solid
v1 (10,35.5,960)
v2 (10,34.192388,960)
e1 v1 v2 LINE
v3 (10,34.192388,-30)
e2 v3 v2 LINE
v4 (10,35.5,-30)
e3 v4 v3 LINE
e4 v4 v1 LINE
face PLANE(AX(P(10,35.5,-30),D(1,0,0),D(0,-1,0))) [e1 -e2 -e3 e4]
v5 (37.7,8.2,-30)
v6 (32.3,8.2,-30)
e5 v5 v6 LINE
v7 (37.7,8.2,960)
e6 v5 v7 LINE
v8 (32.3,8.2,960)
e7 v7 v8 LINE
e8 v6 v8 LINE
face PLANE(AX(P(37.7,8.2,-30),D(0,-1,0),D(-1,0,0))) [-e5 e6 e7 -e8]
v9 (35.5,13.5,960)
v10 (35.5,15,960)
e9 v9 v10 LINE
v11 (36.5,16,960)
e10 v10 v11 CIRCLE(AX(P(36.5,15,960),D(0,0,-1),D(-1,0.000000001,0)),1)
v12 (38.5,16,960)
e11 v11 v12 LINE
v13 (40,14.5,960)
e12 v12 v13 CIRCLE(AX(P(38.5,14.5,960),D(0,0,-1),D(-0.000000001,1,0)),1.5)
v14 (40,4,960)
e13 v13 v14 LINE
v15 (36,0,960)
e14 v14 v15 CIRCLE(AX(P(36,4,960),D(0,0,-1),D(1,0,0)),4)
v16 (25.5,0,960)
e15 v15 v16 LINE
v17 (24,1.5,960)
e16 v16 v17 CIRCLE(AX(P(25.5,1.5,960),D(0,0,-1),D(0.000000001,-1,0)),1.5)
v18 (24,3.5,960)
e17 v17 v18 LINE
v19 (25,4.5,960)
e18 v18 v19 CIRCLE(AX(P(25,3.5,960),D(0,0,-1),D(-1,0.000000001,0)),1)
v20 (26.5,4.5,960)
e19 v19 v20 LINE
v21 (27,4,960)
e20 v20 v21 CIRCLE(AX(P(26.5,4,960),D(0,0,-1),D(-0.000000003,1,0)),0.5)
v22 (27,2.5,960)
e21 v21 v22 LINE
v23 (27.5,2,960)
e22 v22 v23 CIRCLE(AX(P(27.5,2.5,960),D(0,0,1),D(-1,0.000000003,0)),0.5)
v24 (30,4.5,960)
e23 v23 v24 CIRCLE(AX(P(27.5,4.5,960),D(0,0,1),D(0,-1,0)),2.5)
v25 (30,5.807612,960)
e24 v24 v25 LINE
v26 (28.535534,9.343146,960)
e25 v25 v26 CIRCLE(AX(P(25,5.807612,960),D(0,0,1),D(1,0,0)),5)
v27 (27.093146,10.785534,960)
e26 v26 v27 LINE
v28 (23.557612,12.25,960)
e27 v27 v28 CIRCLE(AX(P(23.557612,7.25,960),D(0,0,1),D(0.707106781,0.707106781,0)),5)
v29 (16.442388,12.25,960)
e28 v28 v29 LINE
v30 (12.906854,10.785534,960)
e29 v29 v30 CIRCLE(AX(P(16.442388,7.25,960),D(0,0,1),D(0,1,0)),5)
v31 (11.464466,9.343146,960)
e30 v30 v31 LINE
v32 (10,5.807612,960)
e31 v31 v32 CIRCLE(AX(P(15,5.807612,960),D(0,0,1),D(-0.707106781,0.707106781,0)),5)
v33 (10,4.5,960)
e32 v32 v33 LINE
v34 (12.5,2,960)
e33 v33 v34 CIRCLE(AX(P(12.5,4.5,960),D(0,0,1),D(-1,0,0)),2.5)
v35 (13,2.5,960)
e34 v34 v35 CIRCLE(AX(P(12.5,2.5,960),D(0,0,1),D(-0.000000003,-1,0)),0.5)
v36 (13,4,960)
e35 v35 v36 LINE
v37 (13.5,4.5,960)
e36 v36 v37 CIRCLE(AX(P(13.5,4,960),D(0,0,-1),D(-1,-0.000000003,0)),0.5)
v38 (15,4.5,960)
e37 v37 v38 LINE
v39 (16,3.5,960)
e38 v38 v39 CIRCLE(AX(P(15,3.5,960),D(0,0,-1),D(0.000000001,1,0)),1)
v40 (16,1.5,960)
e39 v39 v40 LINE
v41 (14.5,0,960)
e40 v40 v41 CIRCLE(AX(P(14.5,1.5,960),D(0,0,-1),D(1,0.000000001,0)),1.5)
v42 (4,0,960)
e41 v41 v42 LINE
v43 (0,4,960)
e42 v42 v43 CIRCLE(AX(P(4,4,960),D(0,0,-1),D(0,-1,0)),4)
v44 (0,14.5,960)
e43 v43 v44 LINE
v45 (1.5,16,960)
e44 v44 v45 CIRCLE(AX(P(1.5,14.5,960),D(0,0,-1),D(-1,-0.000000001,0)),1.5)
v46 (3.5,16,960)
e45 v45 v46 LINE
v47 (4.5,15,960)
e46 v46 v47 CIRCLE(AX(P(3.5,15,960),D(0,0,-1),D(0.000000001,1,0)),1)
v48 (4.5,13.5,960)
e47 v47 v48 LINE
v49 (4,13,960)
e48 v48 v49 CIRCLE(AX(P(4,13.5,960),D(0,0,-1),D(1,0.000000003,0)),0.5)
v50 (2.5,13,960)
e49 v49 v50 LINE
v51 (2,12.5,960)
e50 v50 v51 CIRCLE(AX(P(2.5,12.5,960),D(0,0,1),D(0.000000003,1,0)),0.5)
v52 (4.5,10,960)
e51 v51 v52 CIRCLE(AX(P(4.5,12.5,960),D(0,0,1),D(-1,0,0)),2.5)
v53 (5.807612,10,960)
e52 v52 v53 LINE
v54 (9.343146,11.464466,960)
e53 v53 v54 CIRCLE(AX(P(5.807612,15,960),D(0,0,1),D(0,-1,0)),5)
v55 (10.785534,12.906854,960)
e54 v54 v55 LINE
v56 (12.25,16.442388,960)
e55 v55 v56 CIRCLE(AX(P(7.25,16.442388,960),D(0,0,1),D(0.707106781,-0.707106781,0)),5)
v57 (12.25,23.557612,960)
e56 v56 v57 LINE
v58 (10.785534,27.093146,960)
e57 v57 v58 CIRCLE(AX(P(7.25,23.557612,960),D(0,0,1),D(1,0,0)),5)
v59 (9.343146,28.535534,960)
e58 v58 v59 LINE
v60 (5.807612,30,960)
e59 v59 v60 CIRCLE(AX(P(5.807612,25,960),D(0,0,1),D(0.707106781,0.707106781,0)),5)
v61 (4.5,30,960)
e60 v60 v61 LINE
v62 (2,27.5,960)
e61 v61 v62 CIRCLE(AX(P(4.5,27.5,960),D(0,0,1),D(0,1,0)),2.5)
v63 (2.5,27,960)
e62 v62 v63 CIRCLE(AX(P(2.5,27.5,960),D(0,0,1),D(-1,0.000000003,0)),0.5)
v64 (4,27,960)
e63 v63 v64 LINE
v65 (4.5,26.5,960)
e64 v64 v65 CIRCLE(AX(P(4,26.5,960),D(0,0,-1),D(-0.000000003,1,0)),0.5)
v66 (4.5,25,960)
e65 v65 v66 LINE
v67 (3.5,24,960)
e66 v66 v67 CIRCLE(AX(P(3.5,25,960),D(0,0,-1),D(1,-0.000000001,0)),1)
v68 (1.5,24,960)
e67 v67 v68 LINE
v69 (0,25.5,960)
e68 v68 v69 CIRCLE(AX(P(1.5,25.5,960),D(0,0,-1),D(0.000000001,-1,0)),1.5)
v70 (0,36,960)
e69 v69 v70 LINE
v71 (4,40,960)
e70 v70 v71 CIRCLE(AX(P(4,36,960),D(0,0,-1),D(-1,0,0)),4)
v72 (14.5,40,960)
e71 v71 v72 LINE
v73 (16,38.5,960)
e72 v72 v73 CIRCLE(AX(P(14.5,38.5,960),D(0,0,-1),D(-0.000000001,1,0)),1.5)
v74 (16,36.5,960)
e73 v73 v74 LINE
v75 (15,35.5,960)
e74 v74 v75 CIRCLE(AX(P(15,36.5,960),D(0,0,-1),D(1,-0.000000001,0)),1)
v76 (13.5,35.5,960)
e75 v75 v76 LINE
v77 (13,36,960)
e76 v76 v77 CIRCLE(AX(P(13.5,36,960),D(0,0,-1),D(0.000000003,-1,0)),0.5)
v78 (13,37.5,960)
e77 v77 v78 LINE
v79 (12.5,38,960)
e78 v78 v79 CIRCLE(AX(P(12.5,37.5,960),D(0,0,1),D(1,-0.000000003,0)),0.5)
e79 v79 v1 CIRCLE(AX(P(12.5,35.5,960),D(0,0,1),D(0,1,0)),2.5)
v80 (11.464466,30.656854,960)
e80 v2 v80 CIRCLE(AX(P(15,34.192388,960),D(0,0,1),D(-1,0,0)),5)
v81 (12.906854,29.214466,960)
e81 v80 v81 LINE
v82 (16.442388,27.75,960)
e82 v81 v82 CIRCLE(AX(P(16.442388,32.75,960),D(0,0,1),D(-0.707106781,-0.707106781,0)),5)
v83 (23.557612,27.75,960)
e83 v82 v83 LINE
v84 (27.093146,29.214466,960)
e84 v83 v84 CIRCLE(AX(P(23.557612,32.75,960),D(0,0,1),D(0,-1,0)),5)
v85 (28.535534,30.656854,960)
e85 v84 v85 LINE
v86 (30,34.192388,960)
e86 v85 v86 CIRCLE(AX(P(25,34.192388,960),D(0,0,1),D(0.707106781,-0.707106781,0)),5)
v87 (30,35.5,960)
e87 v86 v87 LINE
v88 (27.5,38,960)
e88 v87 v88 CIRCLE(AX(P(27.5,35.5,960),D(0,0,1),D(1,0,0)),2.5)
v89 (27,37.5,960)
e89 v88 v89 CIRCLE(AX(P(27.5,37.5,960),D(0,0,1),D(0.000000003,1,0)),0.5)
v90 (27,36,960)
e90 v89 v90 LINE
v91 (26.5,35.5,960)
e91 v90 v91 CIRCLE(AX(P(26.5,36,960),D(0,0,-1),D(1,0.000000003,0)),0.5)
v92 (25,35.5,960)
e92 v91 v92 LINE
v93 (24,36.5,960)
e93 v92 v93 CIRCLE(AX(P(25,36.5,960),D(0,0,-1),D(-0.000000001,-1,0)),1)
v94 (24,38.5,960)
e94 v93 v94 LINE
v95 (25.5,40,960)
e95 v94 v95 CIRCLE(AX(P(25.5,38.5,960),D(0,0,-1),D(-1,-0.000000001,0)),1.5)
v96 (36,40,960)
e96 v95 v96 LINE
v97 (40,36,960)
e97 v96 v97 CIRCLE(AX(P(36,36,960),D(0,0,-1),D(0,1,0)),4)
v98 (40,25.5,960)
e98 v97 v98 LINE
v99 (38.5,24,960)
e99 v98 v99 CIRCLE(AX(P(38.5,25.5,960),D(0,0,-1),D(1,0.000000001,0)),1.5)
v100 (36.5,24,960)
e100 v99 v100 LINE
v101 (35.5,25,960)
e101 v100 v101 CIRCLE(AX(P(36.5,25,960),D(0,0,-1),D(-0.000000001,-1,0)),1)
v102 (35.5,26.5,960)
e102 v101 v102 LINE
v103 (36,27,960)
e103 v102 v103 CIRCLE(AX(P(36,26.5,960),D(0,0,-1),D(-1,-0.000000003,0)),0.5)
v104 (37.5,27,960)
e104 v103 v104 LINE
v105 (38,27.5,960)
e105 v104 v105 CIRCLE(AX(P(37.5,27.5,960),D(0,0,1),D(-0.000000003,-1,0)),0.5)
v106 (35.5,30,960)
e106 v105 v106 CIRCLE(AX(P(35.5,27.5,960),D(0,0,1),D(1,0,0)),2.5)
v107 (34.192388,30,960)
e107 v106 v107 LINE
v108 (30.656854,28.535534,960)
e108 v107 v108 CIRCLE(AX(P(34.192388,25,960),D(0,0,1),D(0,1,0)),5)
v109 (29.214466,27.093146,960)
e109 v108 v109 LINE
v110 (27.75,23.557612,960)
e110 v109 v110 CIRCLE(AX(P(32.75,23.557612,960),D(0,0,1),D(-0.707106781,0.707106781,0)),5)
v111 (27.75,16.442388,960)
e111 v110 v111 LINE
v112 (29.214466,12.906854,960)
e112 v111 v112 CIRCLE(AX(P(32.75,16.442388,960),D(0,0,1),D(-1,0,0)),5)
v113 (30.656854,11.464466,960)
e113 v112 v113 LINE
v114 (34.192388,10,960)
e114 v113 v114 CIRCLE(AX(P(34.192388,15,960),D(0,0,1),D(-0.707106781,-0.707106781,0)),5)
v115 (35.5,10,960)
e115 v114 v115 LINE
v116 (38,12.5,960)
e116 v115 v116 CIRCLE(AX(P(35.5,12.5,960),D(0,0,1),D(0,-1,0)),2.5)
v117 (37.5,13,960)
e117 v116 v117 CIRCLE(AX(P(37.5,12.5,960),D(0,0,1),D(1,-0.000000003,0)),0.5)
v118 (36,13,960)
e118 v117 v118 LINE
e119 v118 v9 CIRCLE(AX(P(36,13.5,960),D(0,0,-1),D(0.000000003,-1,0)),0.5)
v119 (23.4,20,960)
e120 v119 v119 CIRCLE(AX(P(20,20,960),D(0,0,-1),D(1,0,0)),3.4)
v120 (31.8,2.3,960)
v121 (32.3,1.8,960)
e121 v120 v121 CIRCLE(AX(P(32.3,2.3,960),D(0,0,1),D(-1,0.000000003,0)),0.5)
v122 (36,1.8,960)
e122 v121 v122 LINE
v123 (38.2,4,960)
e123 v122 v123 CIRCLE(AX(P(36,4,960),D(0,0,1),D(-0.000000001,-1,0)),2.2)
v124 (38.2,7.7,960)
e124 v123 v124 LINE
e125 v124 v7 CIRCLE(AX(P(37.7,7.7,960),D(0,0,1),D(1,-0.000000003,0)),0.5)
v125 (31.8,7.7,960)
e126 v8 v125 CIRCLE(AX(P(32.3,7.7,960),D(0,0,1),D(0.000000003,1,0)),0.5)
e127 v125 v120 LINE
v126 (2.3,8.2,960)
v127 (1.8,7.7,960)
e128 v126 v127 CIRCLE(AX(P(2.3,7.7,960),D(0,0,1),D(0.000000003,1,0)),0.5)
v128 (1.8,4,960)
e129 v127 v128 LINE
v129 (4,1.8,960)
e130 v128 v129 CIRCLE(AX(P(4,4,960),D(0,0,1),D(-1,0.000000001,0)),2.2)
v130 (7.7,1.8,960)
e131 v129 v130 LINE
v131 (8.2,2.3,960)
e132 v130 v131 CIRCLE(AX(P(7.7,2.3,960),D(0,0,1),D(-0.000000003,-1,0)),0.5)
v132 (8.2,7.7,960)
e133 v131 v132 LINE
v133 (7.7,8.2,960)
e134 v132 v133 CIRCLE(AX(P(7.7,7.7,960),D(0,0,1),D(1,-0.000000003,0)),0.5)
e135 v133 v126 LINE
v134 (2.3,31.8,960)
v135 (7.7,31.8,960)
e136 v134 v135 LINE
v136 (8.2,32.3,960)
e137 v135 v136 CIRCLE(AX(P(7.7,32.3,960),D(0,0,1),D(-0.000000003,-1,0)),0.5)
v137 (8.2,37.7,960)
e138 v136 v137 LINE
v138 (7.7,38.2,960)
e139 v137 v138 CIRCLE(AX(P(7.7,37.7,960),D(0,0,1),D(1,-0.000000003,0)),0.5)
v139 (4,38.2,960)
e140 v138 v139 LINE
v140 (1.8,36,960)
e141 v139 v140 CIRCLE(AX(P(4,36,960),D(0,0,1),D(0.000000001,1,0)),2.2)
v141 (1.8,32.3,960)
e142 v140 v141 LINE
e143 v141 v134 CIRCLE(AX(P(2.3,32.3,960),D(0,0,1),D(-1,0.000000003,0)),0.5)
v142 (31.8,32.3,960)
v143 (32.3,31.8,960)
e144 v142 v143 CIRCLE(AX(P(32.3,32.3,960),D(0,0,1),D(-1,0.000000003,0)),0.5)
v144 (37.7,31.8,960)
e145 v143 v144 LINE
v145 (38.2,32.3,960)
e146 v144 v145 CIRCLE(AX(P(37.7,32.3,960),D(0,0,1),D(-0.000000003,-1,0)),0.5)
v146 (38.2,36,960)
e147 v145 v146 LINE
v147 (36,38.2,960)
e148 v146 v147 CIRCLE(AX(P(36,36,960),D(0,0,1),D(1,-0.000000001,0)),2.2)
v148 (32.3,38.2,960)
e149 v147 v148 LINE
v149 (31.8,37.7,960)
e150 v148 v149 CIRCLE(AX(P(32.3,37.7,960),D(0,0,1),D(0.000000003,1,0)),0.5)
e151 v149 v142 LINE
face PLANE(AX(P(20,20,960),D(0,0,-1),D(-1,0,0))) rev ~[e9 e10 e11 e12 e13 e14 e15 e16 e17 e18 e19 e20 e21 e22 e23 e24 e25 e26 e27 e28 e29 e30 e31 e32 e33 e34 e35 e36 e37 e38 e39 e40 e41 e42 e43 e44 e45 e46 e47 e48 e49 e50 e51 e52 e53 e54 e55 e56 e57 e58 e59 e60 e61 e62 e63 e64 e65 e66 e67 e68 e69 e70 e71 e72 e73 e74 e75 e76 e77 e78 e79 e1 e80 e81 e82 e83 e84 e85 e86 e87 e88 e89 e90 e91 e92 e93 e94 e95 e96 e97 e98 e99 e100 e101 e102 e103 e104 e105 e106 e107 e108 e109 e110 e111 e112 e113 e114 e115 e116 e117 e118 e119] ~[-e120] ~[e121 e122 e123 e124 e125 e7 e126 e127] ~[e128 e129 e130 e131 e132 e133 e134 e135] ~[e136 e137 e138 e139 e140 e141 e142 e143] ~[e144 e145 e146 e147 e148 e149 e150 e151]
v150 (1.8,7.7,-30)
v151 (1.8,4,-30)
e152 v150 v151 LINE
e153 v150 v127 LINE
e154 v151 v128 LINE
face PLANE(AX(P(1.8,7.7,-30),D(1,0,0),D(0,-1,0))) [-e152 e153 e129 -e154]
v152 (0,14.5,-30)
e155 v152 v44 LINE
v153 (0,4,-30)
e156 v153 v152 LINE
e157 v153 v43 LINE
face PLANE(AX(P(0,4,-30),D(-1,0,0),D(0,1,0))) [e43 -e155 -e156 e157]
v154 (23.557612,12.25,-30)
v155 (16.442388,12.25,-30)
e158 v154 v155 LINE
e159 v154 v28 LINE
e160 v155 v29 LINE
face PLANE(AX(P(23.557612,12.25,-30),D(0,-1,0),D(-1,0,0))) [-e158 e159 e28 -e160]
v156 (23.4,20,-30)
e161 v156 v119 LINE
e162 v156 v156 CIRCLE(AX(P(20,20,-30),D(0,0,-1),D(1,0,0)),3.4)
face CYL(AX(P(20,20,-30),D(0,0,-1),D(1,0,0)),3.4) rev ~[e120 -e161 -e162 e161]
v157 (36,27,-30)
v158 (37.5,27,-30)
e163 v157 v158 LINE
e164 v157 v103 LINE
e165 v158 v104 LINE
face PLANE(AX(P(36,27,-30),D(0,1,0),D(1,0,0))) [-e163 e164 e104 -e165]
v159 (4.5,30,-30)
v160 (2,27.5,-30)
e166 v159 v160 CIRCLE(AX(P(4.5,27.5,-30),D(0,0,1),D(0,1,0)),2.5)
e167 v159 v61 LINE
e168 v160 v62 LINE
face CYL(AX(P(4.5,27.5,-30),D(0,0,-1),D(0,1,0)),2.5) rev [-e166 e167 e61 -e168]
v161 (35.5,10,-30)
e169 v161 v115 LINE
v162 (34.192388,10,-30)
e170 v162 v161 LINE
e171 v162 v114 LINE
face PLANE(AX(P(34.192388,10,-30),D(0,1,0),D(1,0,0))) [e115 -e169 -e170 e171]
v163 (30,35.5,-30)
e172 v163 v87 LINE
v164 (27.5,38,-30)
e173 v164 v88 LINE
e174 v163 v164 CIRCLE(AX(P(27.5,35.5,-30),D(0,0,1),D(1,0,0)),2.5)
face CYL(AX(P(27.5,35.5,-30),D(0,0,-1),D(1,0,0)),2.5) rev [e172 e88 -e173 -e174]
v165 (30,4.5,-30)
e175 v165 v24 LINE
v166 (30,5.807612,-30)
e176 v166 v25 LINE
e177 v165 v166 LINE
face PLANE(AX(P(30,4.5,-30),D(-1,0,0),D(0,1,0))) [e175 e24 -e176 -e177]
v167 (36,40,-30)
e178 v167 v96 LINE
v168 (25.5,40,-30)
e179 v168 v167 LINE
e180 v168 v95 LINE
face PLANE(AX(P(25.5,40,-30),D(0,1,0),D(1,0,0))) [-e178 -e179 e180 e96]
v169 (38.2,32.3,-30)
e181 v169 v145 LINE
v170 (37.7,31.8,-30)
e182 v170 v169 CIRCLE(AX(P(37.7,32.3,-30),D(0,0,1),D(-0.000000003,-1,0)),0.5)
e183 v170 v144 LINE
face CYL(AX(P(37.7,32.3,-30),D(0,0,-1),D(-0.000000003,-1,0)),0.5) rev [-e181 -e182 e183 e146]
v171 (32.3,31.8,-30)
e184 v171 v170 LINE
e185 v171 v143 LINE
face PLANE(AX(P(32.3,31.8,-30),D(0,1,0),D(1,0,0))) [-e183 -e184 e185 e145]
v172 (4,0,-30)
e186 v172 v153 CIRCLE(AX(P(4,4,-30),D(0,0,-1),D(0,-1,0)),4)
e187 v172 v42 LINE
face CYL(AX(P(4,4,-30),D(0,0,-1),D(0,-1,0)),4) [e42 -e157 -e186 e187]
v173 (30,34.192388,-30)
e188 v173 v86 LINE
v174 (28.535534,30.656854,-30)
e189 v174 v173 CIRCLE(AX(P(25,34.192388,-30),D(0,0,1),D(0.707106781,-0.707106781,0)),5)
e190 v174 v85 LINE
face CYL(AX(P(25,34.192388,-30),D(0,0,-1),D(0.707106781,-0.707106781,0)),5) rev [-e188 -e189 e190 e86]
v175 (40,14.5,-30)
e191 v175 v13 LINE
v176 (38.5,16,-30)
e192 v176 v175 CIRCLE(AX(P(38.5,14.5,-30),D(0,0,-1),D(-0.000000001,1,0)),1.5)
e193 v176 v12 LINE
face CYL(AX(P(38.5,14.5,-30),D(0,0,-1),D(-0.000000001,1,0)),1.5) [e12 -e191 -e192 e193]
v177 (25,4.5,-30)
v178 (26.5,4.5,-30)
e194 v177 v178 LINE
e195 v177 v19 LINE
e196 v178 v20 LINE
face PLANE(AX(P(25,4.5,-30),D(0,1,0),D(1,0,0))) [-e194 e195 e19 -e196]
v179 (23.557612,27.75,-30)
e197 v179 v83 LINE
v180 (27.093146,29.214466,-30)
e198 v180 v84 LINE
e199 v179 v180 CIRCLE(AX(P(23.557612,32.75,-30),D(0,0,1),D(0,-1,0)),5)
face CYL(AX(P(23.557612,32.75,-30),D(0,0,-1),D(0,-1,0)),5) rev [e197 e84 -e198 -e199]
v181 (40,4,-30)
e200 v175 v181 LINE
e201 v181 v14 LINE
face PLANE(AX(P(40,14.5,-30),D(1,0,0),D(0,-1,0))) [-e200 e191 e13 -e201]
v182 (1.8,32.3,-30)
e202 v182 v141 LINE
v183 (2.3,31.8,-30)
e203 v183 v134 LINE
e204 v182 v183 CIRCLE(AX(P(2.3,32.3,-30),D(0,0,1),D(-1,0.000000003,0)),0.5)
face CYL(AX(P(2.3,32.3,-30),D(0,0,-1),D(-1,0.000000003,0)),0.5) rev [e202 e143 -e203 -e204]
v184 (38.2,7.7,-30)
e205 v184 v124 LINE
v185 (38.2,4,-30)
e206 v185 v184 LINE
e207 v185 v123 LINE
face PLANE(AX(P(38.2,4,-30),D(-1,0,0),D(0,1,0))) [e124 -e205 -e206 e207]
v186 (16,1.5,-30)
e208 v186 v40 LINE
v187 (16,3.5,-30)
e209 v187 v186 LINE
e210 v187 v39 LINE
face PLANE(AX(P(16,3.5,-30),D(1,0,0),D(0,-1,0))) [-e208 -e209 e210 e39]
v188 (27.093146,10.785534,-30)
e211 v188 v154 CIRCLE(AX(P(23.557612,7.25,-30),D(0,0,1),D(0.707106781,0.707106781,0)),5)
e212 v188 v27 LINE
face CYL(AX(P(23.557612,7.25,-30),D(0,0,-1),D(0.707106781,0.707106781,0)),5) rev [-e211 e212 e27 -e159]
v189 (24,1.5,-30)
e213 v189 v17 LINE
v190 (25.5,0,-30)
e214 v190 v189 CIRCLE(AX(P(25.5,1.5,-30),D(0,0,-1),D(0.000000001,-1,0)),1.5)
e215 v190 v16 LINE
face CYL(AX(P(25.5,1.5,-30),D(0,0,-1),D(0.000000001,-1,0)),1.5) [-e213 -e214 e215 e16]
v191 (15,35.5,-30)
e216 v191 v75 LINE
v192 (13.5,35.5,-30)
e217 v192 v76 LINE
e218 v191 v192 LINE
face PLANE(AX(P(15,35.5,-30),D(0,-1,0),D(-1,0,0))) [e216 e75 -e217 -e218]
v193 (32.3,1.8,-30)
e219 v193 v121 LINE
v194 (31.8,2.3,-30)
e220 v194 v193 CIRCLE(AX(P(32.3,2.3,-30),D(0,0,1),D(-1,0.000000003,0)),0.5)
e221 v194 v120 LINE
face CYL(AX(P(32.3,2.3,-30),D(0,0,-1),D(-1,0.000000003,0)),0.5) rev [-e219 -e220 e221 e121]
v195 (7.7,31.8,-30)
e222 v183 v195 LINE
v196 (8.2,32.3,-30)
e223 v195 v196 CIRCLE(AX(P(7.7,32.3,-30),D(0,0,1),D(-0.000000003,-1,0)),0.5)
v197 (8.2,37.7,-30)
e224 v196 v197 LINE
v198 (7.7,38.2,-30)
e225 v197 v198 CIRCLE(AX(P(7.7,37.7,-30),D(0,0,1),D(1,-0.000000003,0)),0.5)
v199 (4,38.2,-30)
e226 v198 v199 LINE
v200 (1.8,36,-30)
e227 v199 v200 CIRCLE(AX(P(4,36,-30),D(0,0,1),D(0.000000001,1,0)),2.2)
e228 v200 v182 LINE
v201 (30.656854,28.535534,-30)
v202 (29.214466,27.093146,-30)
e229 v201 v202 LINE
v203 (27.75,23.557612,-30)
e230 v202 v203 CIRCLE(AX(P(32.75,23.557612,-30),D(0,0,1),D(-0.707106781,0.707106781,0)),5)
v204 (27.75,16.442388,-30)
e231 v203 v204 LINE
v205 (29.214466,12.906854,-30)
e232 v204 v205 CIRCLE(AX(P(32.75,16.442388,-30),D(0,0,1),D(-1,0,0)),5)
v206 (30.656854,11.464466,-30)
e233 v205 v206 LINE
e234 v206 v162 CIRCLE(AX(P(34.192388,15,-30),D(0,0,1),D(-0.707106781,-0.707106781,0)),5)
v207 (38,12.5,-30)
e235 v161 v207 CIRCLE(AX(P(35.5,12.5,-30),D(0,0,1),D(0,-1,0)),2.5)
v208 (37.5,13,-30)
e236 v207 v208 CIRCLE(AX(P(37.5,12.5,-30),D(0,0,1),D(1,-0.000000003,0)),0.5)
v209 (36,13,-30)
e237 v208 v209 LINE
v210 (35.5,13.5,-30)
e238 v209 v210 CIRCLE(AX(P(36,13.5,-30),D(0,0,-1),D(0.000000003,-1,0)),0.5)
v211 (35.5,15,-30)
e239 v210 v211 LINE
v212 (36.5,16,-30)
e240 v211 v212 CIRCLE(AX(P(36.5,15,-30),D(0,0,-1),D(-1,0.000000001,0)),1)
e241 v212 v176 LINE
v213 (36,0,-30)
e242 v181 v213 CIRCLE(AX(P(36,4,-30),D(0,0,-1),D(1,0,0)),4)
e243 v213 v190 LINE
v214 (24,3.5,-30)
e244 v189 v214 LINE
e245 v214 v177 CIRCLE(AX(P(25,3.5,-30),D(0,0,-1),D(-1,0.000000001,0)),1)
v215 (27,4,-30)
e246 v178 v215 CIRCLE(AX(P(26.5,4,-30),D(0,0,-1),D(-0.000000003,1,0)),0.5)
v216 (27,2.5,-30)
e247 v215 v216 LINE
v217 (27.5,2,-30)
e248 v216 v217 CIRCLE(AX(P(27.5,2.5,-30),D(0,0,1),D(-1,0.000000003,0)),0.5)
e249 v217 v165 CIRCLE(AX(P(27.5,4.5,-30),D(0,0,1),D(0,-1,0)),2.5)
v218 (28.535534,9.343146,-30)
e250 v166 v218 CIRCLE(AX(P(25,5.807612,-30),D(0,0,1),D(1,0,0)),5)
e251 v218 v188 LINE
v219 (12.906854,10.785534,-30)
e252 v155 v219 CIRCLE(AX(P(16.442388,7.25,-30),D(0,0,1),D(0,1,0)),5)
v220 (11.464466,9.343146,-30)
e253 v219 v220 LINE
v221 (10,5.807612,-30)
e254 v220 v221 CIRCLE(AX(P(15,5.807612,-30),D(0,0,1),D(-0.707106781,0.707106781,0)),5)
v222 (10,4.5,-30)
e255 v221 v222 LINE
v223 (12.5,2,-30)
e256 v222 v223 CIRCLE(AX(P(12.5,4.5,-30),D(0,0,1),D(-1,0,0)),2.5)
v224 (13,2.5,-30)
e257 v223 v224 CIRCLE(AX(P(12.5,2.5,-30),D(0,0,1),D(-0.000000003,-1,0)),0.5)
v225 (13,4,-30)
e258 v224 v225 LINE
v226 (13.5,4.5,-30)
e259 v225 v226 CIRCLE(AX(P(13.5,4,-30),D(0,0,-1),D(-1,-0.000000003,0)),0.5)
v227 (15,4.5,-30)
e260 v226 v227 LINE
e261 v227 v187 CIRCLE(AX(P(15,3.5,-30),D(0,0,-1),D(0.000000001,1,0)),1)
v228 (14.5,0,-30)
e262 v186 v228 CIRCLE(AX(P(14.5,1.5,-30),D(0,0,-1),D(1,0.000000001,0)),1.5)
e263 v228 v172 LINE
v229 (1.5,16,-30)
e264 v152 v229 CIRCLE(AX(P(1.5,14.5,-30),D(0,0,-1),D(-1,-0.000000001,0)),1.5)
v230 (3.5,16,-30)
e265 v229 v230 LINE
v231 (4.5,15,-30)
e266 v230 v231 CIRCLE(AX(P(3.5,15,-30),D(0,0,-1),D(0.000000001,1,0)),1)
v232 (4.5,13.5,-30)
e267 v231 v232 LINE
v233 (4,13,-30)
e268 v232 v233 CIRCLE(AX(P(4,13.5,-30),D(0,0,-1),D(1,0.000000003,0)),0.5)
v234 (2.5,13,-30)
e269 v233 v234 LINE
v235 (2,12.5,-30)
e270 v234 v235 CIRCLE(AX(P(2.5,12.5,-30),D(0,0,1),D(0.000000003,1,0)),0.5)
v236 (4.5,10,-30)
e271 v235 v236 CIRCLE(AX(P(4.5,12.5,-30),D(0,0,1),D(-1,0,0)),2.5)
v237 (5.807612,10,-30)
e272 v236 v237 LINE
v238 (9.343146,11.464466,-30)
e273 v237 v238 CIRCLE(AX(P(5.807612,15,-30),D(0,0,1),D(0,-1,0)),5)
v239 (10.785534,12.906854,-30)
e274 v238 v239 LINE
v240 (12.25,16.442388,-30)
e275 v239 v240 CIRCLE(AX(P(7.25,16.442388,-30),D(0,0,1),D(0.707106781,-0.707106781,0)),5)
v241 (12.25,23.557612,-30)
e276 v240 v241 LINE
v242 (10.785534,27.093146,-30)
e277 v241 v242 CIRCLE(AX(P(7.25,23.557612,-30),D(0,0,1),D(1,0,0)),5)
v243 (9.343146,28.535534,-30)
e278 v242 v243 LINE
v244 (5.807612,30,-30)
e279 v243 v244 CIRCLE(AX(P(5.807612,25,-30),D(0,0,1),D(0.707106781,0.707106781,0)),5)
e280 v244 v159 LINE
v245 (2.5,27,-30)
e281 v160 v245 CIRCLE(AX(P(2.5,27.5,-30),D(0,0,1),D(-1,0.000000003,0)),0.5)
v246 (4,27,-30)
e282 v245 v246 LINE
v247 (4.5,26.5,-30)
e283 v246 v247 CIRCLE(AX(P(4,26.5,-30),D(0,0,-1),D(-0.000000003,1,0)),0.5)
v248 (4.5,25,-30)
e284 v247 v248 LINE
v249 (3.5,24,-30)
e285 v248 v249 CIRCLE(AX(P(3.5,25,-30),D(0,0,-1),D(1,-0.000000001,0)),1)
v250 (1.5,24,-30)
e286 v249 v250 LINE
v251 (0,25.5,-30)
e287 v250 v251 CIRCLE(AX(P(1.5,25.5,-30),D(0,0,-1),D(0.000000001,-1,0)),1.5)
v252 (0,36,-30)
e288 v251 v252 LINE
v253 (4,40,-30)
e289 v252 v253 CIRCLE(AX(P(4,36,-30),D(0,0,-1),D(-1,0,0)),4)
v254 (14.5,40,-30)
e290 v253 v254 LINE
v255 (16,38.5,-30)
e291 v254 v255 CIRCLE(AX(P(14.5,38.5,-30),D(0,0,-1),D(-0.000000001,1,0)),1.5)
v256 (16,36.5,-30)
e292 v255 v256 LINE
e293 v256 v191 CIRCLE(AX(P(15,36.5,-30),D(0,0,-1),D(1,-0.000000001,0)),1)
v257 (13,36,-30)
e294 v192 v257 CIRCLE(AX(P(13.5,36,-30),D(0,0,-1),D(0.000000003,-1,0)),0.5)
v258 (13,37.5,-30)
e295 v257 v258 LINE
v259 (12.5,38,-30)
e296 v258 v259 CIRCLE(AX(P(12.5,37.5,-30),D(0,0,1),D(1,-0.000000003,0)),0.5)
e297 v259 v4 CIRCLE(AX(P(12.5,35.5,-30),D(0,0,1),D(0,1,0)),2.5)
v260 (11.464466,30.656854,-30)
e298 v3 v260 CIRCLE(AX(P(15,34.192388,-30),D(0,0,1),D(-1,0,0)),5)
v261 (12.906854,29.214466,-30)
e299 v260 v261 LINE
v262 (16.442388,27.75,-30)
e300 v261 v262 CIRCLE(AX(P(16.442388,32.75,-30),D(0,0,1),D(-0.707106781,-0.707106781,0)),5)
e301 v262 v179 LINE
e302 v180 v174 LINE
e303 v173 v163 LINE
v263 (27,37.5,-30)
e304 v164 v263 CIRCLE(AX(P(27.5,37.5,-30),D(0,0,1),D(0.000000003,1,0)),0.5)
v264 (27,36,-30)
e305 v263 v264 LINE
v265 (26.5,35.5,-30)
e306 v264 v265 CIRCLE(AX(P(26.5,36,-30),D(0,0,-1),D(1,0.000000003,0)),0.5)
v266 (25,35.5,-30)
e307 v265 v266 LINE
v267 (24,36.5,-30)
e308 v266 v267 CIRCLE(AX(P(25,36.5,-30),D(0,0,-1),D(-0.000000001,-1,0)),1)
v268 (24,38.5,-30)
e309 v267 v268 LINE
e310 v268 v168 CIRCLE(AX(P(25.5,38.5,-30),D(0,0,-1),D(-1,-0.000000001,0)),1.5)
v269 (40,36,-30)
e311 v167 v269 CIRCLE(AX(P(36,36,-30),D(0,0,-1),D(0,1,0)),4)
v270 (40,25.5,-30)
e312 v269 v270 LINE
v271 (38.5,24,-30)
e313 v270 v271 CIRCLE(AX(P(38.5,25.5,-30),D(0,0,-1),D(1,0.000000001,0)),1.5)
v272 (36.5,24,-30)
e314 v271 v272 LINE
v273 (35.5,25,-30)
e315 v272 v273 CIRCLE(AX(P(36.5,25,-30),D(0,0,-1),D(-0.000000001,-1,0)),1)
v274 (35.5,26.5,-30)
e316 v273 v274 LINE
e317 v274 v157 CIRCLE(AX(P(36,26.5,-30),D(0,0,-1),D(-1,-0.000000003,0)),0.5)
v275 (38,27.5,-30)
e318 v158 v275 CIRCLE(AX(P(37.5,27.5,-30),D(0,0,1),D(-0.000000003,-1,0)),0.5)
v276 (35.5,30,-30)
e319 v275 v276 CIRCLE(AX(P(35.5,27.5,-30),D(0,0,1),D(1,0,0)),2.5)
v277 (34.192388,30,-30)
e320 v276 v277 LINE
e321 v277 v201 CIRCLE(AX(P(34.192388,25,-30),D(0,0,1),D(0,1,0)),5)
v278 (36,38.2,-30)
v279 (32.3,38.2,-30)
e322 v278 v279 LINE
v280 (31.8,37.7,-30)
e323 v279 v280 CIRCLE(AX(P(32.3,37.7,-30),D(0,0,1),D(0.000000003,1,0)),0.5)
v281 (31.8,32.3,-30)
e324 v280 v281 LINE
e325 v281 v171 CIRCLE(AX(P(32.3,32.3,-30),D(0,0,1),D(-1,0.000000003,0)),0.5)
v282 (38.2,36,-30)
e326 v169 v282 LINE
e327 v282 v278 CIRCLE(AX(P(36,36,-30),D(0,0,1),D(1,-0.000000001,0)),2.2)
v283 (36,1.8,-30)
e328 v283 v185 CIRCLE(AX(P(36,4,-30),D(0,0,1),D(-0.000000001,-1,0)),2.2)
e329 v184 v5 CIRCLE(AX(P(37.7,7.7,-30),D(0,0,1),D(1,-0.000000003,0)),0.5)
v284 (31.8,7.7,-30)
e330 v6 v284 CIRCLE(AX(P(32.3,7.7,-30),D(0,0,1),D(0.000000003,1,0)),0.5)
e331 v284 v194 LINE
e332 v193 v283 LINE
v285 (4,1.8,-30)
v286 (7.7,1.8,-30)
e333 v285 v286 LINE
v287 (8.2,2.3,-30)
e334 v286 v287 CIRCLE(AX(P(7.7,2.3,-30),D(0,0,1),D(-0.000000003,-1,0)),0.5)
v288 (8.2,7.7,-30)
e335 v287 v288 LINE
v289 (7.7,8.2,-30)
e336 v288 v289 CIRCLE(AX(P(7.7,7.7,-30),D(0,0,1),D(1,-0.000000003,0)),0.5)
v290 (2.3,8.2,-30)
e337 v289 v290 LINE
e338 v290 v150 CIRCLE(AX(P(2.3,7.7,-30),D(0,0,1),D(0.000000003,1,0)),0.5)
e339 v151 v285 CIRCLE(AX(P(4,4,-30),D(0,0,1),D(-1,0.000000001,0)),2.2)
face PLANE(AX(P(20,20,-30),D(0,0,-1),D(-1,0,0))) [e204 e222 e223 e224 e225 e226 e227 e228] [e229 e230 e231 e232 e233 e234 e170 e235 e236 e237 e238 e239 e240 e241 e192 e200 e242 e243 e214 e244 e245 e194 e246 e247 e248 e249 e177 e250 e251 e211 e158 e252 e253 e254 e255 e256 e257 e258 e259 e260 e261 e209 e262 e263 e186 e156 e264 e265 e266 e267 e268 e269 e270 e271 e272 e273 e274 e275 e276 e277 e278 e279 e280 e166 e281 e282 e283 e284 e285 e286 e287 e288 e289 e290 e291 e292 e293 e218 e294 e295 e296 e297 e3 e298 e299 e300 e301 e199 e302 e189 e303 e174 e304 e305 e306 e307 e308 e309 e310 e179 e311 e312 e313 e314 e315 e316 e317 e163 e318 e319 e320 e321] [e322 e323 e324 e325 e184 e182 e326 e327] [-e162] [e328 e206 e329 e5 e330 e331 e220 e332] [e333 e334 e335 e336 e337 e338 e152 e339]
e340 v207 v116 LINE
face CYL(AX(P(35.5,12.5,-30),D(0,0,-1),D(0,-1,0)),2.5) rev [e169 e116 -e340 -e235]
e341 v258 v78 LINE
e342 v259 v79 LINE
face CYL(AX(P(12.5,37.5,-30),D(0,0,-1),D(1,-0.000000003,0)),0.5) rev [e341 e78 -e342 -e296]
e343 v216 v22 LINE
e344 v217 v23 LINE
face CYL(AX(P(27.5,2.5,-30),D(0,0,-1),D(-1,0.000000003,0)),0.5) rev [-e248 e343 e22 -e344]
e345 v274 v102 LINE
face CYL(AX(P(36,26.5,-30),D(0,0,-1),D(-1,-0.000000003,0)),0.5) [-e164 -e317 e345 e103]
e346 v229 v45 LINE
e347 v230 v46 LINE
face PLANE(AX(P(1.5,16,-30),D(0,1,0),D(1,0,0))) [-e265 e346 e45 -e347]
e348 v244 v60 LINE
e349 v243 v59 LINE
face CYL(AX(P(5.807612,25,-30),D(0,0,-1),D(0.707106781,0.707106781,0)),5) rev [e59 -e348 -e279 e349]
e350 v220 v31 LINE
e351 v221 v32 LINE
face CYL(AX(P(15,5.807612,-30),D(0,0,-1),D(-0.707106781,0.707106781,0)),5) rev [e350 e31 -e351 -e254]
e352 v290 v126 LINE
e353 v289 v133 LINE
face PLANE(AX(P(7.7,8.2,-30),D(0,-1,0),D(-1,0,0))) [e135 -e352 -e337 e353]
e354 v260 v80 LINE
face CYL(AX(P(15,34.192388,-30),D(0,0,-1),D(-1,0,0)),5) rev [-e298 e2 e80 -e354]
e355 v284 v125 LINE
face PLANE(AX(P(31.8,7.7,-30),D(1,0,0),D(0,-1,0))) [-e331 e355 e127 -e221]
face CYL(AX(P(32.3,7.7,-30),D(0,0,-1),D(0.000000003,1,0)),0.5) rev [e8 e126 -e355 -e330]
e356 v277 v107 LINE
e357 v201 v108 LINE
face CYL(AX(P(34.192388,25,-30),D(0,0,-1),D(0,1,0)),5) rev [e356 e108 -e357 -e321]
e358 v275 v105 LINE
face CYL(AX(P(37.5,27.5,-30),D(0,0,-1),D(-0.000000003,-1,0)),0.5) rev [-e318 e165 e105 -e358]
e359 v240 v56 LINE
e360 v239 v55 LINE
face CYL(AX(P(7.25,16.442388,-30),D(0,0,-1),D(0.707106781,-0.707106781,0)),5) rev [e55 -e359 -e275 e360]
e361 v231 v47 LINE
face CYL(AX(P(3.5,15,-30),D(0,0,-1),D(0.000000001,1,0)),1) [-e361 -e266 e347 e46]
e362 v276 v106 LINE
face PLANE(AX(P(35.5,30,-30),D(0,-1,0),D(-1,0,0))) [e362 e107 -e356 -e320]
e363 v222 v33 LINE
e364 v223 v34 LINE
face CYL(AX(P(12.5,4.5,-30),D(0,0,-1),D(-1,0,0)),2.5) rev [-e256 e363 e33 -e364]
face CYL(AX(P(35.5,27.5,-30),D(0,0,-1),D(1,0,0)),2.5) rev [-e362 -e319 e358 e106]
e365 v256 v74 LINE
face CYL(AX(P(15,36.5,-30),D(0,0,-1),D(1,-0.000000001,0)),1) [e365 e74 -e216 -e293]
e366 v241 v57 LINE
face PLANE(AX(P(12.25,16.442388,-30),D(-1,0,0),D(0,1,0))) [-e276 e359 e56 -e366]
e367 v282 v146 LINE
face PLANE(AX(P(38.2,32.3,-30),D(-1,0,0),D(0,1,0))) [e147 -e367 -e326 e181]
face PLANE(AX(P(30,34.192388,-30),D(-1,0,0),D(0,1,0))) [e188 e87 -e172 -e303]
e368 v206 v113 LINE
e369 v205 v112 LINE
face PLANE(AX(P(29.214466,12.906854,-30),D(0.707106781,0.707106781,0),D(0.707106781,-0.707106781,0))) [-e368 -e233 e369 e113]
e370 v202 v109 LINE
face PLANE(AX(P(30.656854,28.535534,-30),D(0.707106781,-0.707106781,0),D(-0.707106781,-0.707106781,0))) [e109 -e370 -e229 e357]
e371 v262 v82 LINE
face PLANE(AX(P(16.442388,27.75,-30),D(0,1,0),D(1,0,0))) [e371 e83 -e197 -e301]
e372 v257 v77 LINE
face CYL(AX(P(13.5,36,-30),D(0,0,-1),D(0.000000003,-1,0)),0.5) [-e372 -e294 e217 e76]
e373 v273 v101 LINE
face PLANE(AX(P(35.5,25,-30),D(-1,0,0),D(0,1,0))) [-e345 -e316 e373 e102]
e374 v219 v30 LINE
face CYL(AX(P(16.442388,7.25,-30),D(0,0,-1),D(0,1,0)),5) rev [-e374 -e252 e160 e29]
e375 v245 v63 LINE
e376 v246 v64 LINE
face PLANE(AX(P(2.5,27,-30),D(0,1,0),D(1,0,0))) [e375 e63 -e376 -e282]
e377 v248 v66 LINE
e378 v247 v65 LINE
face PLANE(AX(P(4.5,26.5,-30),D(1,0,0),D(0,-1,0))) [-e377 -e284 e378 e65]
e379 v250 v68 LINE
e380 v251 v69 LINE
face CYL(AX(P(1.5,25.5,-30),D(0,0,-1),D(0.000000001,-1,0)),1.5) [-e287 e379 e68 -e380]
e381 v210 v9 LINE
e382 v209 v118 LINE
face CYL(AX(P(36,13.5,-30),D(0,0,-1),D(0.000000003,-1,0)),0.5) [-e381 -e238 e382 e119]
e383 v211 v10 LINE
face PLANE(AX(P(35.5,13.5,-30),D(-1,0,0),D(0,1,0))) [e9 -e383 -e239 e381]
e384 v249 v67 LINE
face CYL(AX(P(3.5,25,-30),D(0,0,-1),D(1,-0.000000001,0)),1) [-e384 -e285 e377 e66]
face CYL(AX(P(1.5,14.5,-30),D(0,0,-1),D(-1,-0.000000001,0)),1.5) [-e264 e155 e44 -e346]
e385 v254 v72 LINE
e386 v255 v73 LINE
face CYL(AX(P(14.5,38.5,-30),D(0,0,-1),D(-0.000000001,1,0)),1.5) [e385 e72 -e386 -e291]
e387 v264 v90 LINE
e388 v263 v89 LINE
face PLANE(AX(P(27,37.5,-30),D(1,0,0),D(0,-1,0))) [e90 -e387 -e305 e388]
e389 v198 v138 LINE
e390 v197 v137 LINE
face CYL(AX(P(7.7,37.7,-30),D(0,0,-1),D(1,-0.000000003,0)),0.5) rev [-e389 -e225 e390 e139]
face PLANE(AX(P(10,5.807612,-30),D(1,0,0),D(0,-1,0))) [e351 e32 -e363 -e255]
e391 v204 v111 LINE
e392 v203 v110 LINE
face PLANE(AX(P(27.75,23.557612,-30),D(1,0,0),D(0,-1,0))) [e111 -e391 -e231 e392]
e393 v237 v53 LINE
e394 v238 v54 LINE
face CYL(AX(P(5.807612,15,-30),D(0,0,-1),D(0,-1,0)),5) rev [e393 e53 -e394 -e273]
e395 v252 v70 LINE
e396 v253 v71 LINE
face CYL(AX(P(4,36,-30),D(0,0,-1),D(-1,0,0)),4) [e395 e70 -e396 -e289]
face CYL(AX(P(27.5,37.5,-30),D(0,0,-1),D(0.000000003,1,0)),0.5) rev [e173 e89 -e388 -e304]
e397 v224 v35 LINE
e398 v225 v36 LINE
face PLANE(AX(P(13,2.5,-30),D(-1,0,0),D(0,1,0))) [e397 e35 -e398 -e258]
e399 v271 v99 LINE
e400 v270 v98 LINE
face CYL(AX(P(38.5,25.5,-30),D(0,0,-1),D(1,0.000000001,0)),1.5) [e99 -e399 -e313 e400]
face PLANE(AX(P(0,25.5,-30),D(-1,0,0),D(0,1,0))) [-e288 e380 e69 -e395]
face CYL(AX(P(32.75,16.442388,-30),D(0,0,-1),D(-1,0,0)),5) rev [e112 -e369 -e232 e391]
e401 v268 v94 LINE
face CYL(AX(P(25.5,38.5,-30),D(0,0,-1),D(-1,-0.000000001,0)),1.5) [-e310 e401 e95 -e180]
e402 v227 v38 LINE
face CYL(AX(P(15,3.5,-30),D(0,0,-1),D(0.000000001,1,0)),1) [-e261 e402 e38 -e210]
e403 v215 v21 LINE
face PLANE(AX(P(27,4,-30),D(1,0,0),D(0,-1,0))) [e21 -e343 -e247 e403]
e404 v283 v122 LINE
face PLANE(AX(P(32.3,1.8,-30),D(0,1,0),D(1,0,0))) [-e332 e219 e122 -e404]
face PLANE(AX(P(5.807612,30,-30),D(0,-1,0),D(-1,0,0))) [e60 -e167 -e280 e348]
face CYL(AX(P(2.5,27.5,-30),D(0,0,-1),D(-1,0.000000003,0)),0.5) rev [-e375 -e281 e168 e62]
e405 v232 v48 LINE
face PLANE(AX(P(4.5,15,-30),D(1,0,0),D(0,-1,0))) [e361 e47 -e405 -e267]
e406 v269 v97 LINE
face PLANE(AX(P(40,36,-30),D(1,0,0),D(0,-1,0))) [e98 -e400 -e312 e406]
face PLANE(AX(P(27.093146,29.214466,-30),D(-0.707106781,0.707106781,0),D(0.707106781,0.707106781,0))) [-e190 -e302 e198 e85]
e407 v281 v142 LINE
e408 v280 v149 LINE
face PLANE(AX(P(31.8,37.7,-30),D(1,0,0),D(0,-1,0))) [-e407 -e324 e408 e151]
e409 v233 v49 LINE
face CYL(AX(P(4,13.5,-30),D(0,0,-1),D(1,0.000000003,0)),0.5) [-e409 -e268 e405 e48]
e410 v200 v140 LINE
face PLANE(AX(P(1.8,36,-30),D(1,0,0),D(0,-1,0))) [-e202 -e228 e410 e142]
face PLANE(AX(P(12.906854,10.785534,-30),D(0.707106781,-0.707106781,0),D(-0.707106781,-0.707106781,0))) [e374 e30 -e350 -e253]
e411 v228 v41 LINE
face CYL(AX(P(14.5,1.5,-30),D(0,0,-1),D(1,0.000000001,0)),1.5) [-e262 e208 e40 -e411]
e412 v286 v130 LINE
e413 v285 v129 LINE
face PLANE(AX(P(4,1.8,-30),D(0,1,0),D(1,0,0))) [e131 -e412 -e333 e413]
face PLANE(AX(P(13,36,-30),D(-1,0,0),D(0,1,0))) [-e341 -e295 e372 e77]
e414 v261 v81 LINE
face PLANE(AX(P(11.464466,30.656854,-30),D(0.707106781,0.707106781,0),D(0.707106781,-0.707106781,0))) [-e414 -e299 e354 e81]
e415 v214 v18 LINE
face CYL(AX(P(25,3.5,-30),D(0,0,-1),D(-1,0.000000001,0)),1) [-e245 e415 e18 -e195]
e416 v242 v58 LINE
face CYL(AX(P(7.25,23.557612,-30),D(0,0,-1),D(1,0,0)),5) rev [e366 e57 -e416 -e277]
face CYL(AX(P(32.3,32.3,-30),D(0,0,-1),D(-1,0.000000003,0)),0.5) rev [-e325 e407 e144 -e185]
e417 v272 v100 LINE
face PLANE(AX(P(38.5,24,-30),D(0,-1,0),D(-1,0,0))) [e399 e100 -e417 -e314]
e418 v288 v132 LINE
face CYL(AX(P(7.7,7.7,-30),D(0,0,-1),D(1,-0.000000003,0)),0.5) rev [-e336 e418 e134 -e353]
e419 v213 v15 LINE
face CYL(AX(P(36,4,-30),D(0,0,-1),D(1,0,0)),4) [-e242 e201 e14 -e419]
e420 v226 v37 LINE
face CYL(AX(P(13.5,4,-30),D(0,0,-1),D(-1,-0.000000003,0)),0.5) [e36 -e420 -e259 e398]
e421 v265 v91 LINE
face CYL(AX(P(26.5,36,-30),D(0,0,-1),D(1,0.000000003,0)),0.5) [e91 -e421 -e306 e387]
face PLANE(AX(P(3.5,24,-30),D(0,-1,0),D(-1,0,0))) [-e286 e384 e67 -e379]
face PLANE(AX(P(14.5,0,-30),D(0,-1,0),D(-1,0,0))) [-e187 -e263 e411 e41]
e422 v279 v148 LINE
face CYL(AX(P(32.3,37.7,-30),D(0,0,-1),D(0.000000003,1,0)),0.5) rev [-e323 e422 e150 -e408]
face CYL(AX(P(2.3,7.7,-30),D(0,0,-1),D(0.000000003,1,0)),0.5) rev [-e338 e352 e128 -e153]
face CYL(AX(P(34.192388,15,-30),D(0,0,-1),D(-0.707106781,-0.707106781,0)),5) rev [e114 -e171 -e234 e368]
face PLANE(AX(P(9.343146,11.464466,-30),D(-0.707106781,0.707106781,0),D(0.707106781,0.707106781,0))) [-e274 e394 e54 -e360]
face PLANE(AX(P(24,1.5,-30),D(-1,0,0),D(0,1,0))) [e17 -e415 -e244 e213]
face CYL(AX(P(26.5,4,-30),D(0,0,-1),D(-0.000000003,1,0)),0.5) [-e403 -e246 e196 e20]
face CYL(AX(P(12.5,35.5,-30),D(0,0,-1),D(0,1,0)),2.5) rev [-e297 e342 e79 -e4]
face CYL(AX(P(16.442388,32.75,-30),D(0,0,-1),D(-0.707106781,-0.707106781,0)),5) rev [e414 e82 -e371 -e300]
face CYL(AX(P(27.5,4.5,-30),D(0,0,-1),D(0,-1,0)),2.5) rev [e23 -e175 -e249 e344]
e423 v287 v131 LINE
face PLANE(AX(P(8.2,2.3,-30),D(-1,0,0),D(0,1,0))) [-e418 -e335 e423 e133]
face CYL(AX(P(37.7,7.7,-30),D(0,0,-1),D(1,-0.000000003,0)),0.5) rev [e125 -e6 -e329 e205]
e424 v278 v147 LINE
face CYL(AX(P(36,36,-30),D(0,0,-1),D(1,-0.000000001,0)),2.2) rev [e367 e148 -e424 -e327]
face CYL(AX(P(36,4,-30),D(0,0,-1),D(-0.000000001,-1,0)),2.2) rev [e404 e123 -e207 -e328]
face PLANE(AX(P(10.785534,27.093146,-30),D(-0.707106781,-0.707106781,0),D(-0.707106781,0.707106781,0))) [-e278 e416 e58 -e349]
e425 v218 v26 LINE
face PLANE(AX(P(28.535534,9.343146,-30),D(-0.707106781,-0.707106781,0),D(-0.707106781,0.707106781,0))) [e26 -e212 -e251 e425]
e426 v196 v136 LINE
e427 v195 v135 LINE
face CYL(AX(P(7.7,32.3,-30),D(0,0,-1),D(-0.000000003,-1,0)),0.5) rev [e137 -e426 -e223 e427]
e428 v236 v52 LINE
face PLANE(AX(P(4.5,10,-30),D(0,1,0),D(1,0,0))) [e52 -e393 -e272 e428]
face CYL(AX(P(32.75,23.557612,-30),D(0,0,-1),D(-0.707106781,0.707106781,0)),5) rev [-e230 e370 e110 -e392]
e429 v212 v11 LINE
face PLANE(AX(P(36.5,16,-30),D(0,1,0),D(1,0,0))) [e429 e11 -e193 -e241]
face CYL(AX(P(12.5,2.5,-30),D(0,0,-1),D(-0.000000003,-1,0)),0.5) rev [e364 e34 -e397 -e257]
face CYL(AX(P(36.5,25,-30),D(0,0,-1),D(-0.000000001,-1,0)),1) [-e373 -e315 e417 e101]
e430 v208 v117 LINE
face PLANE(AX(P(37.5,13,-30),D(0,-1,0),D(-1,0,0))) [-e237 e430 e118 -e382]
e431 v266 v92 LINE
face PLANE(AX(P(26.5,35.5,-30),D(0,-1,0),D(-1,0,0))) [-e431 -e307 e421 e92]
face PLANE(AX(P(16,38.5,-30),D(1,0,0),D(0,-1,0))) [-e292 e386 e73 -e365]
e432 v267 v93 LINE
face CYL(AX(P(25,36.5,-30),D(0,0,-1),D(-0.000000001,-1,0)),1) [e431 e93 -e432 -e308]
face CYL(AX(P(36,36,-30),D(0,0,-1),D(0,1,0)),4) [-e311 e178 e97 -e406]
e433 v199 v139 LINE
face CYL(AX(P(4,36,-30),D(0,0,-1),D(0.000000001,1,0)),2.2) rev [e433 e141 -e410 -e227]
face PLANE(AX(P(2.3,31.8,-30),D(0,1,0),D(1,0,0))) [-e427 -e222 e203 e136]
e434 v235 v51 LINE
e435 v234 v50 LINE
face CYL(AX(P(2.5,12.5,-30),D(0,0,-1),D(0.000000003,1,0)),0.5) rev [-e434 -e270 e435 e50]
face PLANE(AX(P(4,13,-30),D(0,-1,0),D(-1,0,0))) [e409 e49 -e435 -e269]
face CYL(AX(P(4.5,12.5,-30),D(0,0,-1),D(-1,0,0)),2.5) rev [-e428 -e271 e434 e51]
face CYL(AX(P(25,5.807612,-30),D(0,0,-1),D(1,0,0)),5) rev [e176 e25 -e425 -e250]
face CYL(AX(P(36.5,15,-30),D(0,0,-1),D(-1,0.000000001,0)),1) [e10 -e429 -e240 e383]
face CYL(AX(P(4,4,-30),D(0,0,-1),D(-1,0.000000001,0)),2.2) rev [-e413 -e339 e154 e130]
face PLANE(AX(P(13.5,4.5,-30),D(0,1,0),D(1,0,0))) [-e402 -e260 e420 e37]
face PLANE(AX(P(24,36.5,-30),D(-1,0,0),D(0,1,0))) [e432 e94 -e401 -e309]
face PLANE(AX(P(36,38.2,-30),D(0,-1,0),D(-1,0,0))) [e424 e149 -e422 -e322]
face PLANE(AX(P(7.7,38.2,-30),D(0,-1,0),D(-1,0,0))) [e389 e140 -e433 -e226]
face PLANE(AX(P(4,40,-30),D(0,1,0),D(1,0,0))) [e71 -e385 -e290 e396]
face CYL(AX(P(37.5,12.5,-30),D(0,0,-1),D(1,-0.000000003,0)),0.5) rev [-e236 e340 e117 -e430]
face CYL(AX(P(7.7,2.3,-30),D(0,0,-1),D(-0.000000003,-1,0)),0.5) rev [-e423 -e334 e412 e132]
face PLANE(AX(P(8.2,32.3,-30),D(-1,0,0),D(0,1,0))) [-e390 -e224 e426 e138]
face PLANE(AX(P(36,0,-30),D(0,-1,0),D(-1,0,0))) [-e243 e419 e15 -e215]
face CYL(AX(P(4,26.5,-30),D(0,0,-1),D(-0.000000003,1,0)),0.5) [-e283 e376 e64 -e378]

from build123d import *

# Parameters (mm, degrees)
ESQUISSE1_R        = 3.4
BOSS_EXTRU_1_DEPTH = 990


with BuildPart() as part:
    # Esquisse1 → Boss.-Extru.1 (new body)
    with BuildSketch(Plane(origin=(0, 0, -30), x_dir=(-1, 0, 0), z_dir=(0, 0, -1))):
        with BuildLine():
            Line((-4.5, 15), (-4.5, 13.5))
            ThreePointArc((-4.5, 13.5), (-4.353553391, 13.146446609), (-4, 13))
            Line((-4, 13), (-2.5, 13))
            ThreePointArc((-2.5, 13), (-2.146446609, 12.853553391), (-2, 12.5))
            ThreePointArc((-2, 12.5), (-2.732233047, 10.732233047), (-4.5, 10))
            Line((-4.5, 10), (-5.807611845, 10))
            ThreePointArc((-5.807611845, 10), (-7.721029006, 10.380602337), (-9.343145751, 11.464466094))
            Line((-9.343145751, 11.464466094), (-10.785533906, 12.906854249))
            ThreePointArc((-10.785533906, 12.906854249), (-11.869397663, 14.528970994), (-12.25, 16.442388155))
            Line((-12.25, 16.442388155), (-12.25, 23.557611845))
            ThreePointArc((-12.25, 23.557611845), (-11.869397663, 25.471029006), (-10.785533906, 27.093145751))
            Line((-10.785533906, 27.093145751), (-9.343145751, 28.535533906))
            ThreePointArc((-9.343145751, 28.535533906), (-7.721029006, 29.619397663), (-5.807611845, 30))
            Line((-5.807611845, 30), (-4.5, 30))
            ThreePointArc((-4.5, 30), (-2.732233047, 29.267766953), (-2, 27.5))
            ThreePointArc((-2, 27.5), (-2.146446609, 27.146446609), (-2.5, 27))
            Line((-2.5, 27), (-4, 27))
            ThreePointArc((-4, 27), (-4.353553391, 26.853553391), (-4.5, 26.5))
            Line((-4.5, 26.5), (-4.5, 25))
            ThreePointArc((-4.5, 25), (-4.207106781, 24.292893219), (-3.5, 24))
            Line((-3.5, 24), (-1.5, 24))
            ThreePointArc((-1.5, 24), (-0.439339828, 24.439339828), (0, 25.5))
            Line((0, 25.5), (0, 36))
            ThreePointArc((0, 36), (-1.171572875, 38.828427125), (-4, 40))
            Line((-4, 40), (-14.5, 40))
            ThreePointArc((-14.5, 40), (-15.560660172, 39.560660172), (-16, 38.5))
            Line((-16, 38.5), (-16, 36.5))
            ThreePointArc((-16, 36.5), (-15.707106781, 35.792893219), (-15, 35.5))
            Line((-15, 35.5), (-13.5, 35.5))
            ThreePointArc((-13.5, 35.5), (-13.146446609, 35.646446609), (-13, 36))
            Line((-13, 36), (-13, 37.5))
            ThreePointArc((-13, 37.5), (-12.853553391, 37.853553391), (-12.5, 38))
            ThreePointArc((-12.5, 38), (-10.732233047, 37.267766953), (-10, 35.5))
            Line((-10, 35.5), (-10, 34.192388155))
            ThreePointArc((-10, 34.192388155), (-10.380602337, 32.278970994), (-11.464466094, 30.656854249))
            Line((-11.464466094, 30.656854249), (-12.906854249, 29.214466094))
            ThreePointArc((-12.906854249, 29.214466094), (-14.528970994, 28.130602337), (-16.442388155, 27.75))
            Line((-16.442388155, 27.75), (-23.557611845, 27.75))
            ThreePointArc((-23.557611845, 27.75), (-25.471029006, 28.130602337), (-27.093145751, 29.214466094))
            Line((-27.093145751, 29.214466094), (-28.535533906, 30.656854249))
            ThreePointArc((-28.535533906, 30.656854249), (-29.619397663, 32.278970994), (-30, 34.192388155))
            Line((-30, 34.192388155), (-30, 35.5))
            ThreePointArc((-30, 35.5), (-29.267766953, 37.267766953), (-27.5, 38))
            ThreePointArc((-27.5, 38), (-27.146446609, 37.853553391), (-27, 37.5))
            Line((-27, 37.5), (-27, 36))
            ThreePointArc((-27, 36), (-26.853553391, 35.646446609), (-26.5, 35.5))
            Line((-26.5, 35.5), (-25, 35.5))
            ThreePointArc((-25, 35.5), (-24.292893219, 35.792893219), (-24, 36.5))
            Line((-24, 36.5), (-24, 38.5))
            ThreePointArc((-24, 38.5), (-24.439339828, 39.560660172), (-25.5, 40))
            Line((-25.5, 40), (-36, 40))
            ThreePointArc((-36, 40), (-38.828427125, 38.828427125), (-40, 36))
            Line((-40, 36), (-40, 25.5))
            ThreePointArc((-40, 25.5), (-39.560660172, 24.439339828), (-38.5, 24))
            Line((-38.5, 24), (-36.5, 24))
            ThreePointArc((-36.5, 24), (-35.792893219, 24.292893219), (-35.5, 25))
            Line((-35.5, 25), (-35.5, 26.5))
            ThreePointArc((-35.5, 26.5), (-35.646446609, 26.853553391), (-36, 27))
            Line((-36, 27), (-37.5, 27))
            ThreePointArc((-37.5, 27), (-37.853553391, 27.146446609), (-38, 27.5))
            ThreePointArc((-38, 27.5), (-37.267766953, 29.267766953), (-35.5, 30))
            Line((-35.5, 30), (-34.192388155, 30))
            ThreePointArc((-34.192388155, 30), (-32.278970994, 29.619397663), (-30.656854249, 28.535533906))
            Line((-30.656854249, 28.535533906), (-29.214466094, 27.093145751))
            ThreePointArc((-29.214466094, 27.093145751), (-28.130602337, 25.471029006), (-27.75, 23.557611845))
            Line((-27.75, 23.557611845), (-27.75, 16.442388155))
            ThreePointArc((-27.75, 16.442388155), (-28.130602337, 14.528970994), (-29.214466094, 12.906854249))
            Line((-29.214466094, 12.906854249), (-30.656854249, 11.464466094))
            ThreePointArc((-30.656854249, 11.464466094), (-32.278970994, 10.380602337), (-34.192388155, 10))
            Line((-34.192388155, 10), (-35.5, 10))
            ThreePointArc((-35.5, 10), (-37.267766953, 10.732233047), (-38, 12.5))
            ThreePointArc((-38, 12.5), (-37.853553391, 12.853553391), (-37.5, 13))
            Line((-37.5, 13), (-36, 13))
            ThreePointArc((-36, 13), (-35.646446609, 13.146446609), (-35.5, 13.5))
            Line((-35.5, 13.5), (-35.5, 15))
            ThreePointArc((-35.5, 15), (-35.792893219, 15.707106781), (-36.5, 16))
            Line((-36.5, 16), (-38.5, 16))
            ThreePointArc((-38.5, 16), (-39.560660172, 15.560660172), (-40, 14.5))
            Line((-40, 14.5), (-40, 4))
            ThreePointArc((-40, 4), (-38.828427125, 1.171572875), (-36, 0))
            Line((-36, 0), (-25.5, 0))
            ThreePointArc((-25.5, 0), (-24.439339828, 0.439339828), (-24, 1.5))
            Line((-24, 1.5), (-24, 3.5))
            ThreePointArc((-24, 3.5), (-24.292893219, 4.207106781), (-25, 4.5))
            Line((-25, 4.5), (-26.5, 4.5))
            ThreePointArc((-26.5, 4.5), (-26.853553391, 4.353553391), (-27, 4))
            Line((-27, 4), (-27, 2.5))
            ThreePointArc((-27, 2.5), (-27.146446609, 2.146446609), (-27.5, 2))
            ThreePointArc((-27.5, 2), (-29.267766953, 2.732233047), (-30, 4.5))
            Line((-30, 4.5), (-30, 5.807611845))
            ThreePointArc((-30, 5.807611845), (-29.619397663, 7.721029006), (-28.535533906, 9.343145751))
            Line((-28.535533906, 9.343145751), (-27.093145751, 10.785533906))
            ThreePointArc((-27.093145751, 10.785533906), (-25.471029006, 11.869397663), (-23.557611845, 12.25))
            Line((-23.557611845, 12.25), (-16.442388155, 12.25))
            ThreePointArc((-16.442388155, 12.25), (-14.528970994, 11.869397663), (-12.906854249, 10.785533906))
            Line((-12.906854249, 10.785533906), (-11.464466094, 9.343145751))
            ThreePointArc((-11.464466094, 9.343145751), (-10.380602337, 7.721029006), (-10, 5.807611845))
            Line((-10, 5.807611845), (-10, 4.5))
            ThreePointArc((-10, 4.5), (-10.732233047, 2.732233047), (-12.5, 2))
            ThreePointArc((-12.5, 2), (-12.853553391, 2.146446609), (-13, 2.5))
            Line((-13, 2.5), (-13, 4))
            ThreePointArc((-13, 4), (-13.146446609, 4.353553391), (-13.5, 4.5))
            Line((-13.5, 4.5), (-15, 4.5))
            ThreePointArc((-15, 4.5), (-15.707106781, 4.207106781), (-16, 3.5))
            Line((-16, 3.5), (-16, 1.5))
            ThreePointArc((-16, 1.5), (-15.560660172, 0.439339828), (-14.5, 0))
            Line((-14.5, 0), (-4, 0))
            ThreePointArc((-4, 0), (-1.171572875, 1.171572875), (0, 4))
            Line((0, 4), (0, 14.5))
            ThreePointArc((0, 14.5), (-0.439339828, 15.560660172), (-1.5, 16))
            Line((-1.5, 16), (-3.5, 16))
            ThreePointArc((-3.5, 16), (-4.207106781, 15.707106781), (-4.5, 15))
        make_face()
        with Locations(Location((-20, 20, 0), (0, 0, 180))):
            Circle(ESQUISSE1_R, mode=Mode.SUBTRACT)
        with BuildLine():
            Line((-4, 1.8), (-7.7, 1.8))
            ThreePointArc((-7.7, 1.8), (-8.053553391, 1.946446609), (-8.2, 2.3))
            Line((-8.2, 2.3), (-8.2, 7.7))
            ThreePointArc((-8.2, 7.7), (-8.053553391, 8.053553391), (-7.7, 8.2))
            Line((-7.7, 8.2), (-2.3, 8.2))
            ThreePointArc((-2.3, 8.2), (-1.946446609, 8.053553391), (-1.8, 7.7))
            Line((-1.8, 7.7), (-1.8, 4))
            ThreePointArc((-1.8, 4), (-2.444365081, 2.444365081), (-4, 1.8))
        make_face(mode=Mode.SUBTRACT)
        with BuildLine():
            Line((-38.2, 4), (-38.2, 7.7))
            ThreePointArc((-38.2, 7.7), (-38.053553391, 8.053553391), (-37.7, 8.2))
            Line((-37.7, 8.2), (-32.3, 8.2))
            ThreePointArc((-32.3, 8.2), (-31.946446609, 8.053553391), (-31.8, 7.7))
            Line((-31.8, 7.7), (-31.8, 2.3))
            ThreePointArc((-31.8, 2.3), (-31.946446609, 1.946446609), (-32.3, 1.8))
            Line((-32.3, 1.8), (-36, 1.8))
            ThreePointArc((-36, 1.8), (-37.555634919, 2.444365081), (-38.2, 4))
        make_face(mode=Mode.SUBTRACT)
        with BuildLine():
            Line((-36, 38.2), (-32.3, 38.2))
            ThreePointArc((-32.3, 38.2), (-31.946446609, 38.053553391), (-31.8, 37.7))
            Line((-31.8, 37.7), (-31.8, 32.3))
            ThreePointArc((-31.8, 32.3), (-31.946446609, 31.946446609), (-32.3, 31.8))
            Line((-32.3, 31.8), (-37.7, 31.8))
            ThreePointArc((-37.7, 31.8), (-38.053553391, 31.946446609), (-38.2, 32.3))
            Line((-38.2, 32.3), (-38.2, 36))
            ThreePointArc((-38.2, 36), (-37.555634919, 37.555634919), (-36, 38.2))
        make_face(mode=Mode.SUBTRACT)
        with BuildLine():
            Line((-1.8, 36), (-1.8, 32.3))
            ThreePointArc((-1.8, 32.3), (-1.946446609, 31.946446609), (-2.3, 31.8))
            Line((-2.3, 31.8), (-7.7, 31.8))
            ThreePointArc((-7.7, 31.8), (-8.053553391, 31.946446609), (-8.2, 32.3))
            Line((-8.2, 32.3), (-8.2, 37.7))
            ThreePointArc((-8.2, 37.7), (-8.053553391, 38.053553391), (-7.7, 38.2))
            Line((-7.7, 38.2), (-4, 38.2))
            ThreePointArc((-4, 38.2), (-2.444365081, 37.555634919), (-1.8, 36))
        make_face(mode=Mode.SUBTRACT)
    extrude(amount=-BOSS_EXTRU_1_DEPTH)


solid = part.part
